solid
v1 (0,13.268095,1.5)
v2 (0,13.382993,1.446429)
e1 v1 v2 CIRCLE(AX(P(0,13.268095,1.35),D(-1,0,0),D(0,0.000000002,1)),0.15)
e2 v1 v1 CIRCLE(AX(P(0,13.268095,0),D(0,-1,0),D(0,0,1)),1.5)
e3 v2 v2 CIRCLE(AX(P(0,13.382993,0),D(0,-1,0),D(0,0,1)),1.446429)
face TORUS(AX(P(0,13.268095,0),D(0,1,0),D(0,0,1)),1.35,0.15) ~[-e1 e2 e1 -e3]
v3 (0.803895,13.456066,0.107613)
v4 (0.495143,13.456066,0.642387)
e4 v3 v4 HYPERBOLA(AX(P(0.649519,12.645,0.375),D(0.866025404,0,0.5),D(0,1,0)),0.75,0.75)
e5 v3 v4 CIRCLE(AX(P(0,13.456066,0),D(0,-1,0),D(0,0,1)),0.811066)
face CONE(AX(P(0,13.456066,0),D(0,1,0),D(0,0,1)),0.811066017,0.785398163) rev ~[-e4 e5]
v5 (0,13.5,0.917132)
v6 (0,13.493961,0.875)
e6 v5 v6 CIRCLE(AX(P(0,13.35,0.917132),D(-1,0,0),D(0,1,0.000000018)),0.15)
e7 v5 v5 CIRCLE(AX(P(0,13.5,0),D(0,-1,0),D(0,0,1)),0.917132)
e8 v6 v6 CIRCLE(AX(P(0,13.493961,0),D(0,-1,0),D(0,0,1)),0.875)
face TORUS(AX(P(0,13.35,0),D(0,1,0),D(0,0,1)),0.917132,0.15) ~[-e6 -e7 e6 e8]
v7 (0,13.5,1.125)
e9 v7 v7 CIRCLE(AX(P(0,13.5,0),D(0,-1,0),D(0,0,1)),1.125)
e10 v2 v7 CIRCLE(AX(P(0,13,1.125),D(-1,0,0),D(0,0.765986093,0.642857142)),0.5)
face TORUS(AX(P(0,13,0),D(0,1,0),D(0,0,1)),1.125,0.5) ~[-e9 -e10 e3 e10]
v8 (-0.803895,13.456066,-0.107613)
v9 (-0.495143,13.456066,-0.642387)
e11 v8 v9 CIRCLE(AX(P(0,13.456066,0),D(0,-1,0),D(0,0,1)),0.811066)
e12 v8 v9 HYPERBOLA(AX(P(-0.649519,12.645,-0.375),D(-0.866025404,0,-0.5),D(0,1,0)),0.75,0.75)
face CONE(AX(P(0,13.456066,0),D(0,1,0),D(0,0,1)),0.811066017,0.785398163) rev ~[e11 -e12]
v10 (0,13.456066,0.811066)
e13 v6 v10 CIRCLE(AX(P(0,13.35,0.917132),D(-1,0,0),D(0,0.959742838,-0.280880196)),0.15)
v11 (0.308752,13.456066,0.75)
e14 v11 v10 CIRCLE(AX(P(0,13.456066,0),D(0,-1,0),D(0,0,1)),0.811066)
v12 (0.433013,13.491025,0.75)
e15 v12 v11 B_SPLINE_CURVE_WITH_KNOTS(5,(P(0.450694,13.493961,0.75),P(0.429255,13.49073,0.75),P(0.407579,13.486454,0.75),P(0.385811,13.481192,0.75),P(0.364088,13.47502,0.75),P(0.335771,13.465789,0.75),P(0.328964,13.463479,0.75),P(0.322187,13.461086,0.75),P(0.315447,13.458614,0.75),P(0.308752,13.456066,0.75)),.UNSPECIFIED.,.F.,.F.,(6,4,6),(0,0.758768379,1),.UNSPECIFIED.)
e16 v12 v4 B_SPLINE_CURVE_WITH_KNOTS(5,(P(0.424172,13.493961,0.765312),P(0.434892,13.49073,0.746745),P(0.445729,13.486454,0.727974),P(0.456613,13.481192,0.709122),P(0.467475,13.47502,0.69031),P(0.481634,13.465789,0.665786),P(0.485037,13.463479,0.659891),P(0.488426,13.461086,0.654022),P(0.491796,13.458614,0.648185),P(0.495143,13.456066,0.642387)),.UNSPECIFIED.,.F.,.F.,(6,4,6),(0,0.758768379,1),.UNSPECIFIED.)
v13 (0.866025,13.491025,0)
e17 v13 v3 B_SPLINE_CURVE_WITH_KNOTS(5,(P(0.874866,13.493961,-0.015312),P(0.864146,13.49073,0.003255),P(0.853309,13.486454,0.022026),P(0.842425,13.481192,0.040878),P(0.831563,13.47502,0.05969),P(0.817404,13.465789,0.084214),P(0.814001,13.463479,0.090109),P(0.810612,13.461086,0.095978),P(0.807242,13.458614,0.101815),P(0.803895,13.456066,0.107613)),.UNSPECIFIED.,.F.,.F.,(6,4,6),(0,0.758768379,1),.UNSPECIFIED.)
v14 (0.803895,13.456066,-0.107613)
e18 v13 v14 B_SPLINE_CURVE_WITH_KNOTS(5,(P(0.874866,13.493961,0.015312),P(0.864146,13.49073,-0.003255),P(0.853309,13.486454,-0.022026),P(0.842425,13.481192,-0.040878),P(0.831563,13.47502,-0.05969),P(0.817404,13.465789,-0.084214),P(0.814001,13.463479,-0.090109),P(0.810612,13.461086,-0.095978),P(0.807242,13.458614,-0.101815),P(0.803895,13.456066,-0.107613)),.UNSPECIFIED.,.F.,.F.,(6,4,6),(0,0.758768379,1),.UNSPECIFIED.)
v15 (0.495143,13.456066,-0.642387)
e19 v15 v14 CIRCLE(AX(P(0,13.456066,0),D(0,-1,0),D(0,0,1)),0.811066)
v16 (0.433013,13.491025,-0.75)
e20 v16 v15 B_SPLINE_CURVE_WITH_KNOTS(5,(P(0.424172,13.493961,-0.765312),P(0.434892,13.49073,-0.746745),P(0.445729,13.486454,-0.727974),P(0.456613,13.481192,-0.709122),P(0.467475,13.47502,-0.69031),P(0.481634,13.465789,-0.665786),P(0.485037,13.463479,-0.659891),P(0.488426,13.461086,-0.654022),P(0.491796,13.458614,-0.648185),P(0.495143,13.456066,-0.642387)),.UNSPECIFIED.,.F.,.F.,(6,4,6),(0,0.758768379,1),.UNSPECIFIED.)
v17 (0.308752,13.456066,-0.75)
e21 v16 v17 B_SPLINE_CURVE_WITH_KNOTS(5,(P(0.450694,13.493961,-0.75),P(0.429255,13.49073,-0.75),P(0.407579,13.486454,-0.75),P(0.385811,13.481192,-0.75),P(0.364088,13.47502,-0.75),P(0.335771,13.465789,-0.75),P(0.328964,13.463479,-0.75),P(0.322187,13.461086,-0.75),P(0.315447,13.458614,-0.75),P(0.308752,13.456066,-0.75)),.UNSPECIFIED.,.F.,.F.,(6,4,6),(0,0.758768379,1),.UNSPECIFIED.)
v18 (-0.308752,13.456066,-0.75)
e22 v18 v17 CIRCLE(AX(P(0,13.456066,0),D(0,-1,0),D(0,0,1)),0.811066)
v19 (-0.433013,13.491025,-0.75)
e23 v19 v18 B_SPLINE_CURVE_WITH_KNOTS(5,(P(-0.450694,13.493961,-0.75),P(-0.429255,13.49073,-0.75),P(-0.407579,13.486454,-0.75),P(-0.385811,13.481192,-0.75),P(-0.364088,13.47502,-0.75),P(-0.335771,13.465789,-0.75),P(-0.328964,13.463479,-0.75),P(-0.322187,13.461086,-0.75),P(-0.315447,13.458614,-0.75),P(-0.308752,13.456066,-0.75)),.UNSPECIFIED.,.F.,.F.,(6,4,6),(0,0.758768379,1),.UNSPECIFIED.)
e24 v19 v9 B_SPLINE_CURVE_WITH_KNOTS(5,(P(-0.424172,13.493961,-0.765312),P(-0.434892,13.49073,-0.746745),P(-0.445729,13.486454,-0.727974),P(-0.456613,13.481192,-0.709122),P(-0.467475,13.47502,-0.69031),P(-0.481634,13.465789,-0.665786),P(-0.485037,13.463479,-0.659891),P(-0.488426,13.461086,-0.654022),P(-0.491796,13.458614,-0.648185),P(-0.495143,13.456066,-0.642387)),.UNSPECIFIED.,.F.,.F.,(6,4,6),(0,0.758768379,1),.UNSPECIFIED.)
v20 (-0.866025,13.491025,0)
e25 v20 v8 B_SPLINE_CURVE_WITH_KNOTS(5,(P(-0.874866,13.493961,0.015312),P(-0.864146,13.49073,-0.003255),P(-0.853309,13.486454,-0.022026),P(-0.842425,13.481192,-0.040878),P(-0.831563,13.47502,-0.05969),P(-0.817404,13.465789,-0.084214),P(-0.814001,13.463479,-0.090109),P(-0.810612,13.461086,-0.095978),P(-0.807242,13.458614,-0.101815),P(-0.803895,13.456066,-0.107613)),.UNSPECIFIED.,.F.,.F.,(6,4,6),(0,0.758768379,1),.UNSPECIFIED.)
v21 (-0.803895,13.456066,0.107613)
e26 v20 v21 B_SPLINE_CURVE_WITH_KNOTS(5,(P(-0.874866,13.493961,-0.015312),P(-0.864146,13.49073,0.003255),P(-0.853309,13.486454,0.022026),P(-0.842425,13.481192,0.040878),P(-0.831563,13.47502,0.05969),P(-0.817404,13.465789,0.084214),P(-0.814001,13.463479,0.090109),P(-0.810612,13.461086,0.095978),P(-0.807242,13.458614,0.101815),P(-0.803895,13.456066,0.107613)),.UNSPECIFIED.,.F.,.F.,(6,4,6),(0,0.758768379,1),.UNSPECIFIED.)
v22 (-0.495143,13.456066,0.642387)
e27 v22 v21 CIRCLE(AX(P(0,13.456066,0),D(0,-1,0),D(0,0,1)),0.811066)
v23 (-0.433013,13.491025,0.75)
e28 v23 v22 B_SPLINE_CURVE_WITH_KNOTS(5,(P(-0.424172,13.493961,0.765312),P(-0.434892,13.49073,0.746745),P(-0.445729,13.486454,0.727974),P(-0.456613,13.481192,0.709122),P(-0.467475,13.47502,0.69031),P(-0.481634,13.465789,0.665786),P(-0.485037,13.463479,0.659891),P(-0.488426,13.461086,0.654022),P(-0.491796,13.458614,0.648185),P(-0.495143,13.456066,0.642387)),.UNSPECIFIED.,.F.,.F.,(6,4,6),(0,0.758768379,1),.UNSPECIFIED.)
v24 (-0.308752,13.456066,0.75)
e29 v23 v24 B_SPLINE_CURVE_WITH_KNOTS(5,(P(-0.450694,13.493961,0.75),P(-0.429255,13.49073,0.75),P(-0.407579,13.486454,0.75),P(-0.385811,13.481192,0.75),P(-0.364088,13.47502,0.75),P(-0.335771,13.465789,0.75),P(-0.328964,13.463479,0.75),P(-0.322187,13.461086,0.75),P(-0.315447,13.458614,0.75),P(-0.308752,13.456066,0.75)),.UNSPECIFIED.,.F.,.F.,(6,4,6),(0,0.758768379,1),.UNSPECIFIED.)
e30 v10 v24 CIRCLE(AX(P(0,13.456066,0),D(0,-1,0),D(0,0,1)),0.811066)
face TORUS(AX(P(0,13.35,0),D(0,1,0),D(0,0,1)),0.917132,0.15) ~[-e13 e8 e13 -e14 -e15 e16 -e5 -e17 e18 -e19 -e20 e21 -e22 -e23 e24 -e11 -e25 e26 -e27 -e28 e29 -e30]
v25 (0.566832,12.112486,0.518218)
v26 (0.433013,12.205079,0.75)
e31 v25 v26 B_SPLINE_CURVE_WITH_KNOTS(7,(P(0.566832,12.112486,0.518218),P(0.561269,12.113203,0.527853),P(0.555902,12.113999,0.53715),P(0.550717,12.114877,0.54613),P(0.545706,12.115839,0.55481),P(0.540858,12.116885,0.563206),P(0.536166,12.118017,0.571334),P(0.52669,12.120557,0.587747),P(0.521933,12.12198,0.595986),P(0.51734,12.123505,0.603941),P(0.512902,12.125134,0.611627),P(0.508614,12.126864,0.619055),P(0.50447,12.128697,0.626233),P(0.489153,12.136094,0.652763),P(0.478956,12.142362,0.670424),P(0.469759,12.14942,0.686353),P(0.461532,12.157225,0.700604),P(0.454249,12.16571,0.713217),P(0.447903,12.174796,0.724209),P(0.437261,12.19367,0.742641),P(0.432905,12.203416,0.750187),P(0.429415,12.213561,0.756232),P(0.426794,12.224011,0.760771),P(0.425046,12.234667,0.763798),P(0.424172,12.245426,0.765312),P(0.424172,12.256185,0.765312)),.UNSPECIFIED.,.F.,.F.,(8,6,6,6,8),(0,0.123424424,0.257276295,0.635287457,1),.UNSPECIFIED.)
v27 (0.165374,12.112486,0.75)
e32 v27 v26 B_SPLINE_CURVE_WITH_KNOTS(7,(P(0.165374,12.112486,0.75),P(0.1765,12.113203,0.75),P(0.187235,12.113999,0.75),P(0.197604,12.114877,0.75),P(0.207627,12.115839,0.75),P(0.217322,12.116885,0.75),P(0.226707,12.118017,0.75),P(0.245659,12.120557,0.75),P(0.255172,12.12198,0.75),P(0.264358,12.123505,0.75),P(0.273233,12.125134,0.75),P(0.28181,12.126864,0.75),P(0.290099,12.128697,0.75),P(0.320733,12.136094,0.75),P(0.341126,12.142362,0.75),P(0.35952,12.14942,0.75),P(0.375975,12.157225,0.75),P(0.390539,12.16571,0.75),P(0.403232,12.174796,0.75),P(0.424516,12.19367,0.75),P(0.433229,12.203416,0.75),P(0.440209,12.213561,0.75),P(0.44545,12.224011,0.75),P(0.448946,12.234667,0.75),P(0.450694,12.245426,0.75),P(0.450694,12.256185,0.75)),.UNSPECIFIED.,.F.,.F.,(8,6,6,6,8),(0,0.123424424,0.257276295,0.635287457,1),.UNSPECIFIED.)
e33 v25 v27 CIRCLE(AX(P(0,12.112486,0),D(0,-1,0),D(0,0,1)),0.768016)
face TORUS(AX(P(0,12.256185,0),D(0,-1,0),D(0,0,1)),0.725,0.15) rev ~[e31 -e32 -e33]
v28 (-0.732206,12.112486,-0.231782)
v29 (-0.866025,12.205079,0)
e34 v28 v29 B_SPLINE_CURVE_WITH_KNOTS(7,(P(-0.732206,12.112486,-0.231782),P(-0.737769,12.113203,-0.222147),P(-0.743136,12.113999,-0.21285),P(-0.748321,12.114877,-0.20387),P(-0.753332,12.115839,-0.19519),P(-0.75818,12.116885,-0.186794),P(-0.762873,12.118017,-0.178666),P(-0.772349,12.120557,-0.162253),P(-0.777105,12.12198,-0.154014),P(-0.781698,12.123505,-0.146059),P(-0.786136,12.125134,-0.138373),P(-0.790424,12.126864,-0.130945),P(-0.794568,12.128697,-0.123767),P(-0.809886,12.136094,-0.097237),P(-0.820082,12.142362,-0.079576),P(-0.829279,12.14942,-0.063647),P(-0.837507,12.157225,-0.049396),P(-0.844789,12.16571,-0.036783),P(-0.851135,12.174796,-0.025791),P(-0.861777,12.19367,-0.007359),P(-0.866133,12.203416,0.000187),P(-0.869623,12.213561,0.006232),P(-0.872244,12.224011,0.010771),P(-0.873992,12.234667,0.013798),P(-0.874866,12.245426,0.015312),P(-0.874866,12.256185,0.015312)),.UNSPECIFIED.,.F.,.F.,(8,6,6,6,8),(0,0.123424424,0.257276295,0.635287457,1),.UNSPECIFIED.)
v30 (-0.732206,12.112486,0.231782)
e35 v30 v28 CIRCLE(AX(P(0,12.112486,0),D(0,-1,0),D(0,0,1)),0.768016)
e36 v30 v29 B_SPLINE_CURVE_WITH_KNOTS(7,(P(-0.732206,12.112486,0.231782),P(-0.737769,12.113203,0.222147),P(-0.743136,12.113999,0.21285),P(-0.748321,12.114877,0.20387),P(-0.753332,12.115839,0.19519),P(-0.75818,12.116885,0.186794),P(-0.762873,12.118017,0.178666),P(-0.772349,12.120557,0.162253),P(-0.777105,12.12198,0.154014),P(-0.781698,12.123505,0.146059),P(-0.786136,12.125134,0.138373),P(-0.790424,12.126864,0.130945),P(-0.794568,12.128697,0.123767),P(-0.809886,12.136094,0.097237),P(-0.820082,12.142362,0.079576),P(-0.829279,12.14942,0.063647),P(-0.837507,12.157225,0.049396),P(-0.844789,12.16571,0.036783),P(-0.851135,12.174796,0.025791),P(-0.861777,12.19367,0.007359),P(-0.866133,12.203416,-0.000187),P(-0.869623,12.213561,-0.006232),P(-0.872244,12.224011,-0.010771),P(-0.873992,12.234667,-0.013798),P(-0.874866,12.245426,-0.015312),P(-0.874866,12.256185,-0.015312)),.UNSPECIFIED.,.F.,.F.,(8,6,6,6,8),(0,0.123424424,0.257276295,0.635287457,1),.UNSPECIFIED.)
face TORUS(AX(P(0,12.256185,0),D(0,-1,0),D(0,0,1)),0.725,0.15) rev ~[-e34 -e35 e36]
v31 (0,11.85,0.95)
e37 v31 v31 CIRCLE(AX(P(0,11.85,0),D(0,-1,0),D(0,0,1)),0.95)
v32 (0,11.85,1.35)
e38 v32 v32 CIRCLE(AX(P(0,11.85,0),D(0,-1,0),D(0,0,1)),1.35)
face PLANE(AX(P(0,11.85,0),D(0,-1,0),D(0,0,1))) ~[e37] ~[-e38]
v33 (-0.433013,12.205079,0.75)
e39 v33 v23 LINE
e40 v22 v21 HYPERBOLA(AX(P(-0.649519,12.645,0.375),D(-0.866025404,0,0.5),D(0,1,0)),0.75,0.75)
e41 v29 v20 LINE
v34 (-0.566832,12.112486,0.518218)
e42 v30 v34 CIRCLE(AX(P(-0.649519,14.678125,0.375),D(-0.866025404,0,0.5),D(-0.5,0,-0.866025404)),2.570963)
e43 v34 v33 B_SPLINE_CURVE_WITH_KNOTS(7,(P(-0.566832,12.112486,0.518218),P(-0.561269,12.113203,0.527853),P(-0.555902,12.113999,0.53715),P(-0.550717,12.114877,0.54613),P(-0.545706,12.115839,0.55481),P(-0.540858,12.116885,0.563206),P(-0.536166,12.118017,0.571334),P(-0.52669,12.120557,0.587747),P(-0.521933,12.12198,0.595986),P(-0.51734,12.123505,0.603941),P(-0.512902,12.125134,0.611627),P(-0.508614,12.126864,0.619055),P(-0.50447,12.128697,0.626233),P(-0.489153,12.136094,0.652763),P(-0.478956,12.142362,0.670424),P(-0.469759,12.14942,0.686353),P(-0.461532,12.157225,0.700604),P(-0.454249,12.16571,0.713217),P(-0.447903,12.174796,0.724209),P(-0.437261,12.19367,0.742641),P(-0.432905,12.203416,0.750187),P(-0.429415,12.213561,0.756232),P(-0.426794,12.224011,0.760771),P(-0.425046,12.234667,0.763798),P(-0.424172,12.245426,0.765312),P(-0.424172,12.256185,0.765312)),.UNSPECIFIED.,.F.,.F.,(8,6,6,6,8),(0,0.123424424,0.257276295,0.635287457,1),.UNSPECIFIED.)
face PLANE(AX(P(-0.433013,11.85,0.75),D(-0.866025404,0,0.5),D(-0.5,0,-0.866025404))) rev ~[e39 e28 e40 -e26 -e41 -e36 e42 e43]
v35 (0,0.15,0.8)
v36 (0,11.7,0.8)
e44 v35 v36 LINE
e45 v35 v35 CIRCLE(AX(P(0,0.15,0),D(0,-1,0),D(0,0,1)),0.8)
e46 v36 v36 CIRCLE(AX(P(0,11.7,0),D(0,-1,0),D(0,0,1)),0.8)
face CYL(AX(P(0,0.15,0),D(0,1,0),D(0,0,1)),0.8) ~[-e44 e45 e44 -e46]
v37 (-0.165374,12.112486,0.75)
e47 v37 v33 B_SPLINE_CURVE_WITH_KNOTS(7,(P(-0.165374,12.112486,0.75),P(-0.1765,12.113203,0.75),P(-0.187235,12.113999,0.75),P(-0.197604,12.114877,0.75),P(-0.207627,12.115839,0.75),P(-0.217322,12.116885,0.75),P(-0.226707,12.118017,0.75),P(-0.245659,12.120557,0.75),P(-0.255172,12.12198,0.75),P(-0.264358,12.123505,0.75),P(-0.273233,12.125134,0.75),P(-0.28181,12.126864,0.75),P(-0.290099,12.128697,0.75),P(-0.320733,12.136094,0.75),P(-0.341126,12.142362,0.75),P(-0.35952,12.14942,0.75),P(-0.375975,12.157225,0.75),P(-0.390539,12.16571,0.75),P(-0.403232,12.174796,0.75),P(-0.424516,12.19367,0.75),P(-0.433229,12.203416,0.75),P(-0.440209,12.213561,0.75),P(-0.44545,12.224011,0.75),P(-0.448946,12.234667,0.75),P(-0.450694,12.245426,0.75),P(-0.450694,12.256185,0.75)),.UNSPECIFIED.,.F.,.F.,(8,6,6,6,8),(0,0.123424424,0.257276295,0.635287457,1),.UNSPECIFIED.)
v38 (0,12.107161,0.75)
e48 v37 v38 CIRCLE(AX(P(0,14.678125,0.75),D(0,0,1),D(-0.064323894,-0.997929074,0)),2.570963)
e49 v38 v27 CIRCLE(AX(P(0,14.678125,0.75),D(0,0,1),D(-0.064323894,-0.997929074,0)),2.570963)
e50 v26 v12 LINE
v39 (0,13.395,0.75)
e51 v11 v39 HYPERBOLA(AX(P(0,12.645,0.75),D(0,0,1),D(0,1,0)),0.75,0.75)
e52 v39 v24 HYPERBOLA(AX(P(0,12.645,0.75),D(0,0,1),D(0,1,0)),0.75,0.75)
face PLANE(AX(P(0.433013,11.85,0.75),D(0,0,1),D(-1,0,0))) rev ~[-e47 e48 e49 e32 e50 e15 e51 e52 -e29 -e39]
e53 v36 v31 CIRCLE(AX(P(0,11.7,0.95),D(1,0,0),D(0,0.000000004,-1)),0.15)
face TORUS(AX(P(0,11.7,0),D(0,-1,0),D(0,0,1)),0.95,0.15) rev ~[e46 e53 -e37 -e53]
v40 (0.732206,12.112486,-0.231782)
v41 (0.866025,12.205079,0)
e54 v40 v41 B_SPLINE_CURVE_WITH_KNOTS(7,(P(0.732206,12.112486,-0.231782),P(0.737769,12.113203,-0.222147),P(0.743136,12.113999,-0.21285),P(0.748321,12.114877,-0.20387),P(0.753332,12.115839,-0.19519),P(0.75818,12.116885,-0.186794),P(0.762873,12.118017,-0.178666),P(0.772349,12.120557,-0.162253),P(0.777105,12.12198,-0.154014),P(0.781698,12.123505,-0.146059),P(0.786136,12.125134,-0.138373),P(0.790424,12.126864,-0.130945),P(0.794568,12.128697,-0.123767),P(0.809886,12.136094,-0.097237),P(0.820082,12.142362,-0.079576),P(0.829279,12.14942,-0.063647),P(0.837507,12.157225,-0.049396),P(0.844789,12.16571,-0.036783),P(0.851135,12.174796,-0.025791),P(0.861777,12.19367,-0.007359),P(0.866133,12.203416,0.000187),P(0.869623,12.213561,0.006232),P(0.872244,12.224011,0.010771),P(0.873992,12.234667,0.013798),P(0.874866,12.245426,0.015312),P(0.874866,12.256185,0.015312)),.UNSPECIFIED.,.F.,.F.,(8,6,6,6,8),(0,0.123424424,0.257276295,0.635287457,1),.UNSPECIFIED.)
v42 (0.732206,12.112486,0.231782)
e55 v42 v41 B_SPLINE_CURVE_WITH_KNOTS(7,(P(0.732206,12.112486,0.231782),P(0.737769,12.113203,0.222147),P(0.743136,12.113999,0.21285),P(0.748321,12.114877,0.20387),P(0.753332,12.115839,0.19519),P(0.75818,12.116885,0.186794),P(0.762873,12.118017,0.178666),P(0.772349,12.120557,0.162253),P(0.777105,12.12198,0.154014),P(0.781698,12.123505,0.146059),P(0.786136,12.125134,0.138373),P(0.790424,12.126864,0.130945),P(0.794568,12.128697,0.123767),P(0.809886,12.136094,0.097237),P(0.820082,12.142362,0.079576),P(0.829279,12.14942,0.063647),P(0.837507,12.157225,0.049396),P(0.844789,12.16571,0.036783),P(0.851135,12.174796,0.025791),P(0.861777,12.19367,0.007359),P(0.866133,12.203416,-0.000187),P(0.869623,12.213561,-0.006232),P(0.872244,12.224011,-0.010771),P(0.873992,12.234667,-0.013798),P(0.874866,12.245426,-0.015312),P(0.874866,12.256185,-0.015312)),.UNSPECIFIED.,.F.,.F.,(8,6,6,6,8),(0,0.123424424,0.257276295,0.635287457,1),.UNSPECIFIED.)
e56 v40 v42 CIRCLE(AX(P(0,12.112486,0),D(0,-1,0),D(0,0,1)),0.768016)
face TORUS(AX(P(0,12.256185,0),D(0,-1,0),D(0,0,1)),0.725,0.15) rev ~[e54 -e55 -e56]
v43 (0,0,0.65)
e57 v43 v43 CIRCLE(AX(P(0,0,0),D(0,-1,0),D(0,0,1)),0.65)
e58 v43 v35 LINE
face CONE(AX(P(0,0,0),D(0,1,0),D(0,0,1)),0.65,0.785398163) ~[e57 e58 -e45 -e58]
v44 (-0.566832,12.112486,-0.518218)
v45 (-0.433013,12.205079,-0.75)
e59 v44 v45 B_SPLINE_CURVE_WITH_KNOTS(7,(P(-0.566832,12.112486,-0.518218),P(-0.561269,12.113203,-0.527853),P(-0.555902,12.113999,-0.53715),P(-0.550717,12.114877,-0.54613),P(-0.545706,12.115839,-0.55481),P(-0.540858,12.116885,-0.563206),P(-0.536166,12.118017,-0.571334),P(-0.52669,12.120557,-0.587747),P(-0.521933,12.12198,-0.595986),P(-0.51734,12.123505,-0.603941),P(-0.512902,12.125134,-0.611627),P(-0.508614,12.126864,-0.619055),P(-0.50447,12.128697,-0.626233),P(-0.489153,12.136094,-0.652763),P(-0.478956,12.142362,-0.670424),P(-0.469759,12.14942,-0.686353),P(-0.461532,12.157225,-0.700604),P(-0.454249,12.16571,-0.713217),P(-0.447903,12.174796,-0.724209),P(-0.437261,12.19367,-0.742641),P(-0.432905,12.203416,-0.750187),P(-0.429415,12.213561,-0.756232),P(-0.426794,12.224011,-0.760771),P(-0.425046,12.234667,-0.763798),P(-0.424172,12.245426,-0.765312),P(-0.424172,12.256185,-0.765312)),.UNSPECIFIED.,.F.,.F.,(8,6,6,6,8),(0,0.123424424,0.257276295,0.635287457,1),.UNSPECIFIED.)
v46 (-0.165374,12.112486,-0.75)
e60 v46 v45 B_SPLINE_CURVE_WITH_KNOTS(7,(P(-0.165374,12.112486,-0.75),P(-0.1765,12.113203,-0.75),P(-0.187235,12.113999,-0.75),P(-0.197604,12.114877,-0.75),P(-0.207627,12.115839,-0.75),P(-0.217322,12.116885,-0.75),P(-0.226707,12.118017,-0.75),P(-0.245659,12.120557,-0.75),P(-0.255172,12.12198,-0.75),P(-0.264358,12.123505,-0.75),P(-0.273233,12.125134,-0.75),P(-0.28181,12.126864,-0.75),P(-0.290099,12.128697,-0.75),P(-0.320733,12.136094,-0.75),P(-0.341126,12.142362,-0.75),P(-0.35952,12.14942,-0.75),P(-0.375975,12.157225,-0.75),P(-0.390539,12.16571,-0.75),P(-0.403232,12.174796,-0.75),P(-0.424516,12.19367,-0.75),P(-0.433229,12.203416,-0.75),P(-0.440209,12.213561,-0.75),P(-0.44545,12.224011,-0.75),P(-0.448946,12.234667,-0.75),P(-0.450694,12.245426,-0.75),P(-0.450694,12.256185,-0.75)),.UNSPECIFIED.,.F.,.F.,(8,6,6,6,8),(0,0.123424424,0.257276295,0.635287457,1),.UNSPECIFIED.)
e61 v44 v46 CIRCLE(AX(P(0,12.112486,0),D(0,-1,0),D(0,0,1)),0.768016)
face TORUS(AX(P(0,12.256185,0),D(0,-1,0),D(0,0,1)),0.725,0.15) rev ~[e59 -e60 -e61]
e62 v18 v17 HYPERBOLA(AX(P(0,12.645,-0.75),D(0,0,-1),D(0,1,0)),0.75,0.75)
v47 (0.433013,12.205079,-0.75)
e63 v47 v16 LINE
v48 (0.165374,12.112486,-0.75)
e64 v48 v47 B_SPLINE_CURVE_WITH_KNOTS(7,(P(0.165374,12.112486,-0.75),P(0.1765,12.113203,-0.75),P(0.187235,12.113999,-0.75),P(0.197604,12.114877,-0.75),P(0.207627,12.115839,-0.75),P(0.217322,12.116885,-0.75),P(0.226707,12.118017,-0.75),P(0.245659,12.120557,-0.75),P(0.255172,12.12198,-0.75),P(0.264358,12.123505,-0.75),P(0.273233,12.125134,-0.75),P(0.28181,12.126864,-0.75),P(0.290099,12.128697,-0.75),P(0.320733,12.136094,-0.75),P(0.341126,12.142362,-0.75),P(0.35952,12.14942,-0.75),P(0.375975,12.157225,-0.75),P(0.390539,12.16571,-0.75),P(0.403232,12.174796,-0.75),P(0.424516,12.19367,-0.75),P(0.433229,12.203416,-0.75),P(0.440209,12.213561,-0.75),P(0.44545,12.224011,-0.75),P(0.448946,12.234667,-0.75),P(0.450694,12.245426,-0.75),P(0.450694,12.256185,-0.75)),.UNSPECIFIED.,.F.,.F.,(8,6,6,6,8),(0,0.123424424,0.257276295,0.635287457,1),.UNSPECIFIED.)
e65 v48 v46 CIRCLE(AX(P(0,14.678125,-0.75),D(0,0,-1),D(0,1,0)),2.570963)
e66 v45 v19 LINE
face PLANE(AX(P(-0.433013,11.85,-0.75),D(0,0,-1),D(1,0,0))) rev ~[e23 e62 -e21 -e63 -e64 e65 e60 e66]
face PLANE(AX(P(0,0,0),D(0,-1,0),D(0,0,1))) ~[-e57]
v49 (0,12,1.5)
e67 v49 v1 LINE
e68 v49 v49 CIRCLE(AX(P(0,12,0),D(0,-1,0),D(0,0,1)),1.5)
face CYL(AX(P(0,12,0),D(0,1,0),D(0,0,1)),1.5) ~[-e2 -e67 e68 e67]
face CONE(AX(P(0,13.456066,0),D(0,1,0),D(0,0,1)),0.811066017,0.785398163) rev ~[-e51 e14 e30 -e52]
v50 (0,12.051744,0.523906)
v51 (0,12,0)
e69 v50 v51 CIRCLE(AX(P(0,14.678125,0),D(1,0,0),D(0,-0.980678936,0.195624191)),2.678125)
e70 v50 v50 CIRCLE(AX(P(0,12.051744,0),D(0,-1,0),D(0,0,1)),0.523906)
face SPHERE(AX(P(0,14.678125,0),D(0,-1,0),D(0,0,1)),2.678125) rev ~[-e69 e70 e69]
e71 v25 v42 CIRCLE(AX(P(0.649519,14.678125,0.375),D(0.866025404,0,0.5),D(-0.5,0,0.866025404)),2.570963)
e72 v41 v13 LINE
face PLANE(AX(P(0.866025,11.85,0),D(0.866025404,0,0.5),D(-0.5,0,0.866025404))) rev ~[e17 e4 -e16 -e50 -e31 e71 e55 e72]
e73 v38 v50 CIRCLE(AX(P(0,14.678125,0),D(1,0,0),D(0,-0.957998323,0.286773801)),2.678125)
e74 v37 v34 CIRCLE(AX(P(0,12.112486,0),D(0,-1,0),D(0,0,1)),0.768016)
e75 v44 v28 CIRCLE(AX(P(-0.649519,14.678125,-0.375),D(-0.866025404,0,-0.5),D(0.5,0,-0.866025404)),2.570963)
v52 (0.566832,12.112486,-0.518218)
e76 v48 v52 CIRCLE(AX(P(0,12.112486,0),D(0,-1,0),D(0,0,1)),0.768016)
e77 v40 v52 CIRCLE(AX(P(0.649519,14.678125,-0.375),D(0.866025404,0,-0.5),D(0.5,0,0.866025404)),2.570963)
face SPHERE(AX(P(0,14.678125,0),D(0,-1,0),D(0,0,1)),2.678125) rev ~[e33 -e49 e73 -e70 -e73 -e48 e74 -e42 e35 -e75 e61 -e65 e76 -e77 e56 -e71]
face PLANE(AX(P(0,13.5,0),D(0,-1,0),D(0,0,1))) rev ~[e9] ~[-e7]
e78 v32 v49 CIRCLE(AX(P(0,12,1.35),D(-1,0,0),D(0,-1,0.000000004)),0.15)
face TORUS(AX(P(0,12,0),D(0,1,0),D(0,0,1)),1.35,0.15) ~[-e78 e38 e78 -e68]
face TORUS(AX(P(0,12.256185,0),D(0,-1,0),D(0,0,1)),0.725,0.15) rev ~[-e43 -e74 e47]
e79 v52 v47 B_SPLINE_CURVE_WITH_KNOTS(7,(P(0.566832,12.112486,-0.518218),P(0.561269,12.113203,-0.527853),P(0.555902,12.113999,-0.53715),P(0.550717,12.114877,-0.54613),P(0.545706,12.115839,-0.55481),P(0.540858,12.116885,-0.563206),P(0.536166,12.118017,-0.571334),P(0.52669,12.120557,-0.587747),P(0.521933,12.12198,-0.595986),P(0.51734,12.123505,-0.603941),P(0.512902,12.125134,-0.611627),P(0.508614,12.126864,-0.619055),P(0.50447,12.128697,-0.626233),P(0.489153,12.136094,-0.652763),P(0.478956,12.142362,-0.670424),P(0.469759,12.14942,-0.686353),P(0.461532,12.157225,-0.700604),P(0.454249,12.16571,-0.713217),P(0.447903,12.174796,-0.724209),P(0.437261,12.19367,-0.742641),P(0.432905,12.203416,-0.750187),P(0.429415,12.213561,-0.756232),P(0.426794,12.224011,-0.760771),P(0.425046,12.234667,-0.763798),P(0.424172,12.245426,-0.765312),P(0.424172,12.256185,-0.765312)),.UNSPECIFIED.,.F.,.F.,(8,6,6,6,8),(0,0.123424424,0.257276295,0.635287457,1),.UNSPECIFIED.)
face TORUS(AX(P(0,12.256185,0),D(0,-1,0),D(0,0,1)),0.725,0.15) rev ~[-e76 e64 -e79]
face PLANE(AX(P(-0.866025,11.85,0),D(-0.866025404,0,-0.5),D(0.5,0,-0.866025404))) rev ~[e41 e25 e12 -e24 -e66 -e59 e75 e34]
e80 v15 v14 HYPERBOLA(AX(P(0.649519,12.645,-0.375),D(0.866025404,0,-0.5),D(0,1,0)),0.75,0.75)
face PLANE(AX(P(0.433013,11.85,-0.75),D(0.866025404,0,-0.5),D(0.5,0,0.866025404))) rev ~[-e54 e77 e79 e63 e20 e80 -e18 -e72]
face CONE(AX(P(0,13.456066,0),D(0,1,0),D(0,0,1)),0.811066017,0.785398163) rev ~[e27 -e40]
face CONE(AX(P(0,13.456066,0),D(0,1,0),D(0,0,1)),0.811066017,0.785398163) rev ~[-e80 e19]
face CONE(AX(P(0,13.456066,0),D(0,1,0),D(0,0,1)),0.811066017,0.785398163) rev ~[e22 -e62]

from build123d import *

# Parameters (mm, degrees)
CUT_EXTRUDE2_DEPTH = 13.038376161


with BuildPart() as part:
    # Sketch1 → Revolve1 (revolve)
    with BuildSketch(Plane(origin=(0, 0, 0), x_dir=(0, 0, -1), z_dir=(1, 0, 0))):
        with BuildLine():
            ThreePointArc((0.8, 11.7), (0.843933983, 11.806066017), (0.95, 11.85))
            Line((0.95, 11.85), (1.35, 11.85))
            ThreePointArc((1.35, 11.85), (1.456066017, 11.893933983), (1.5, 12))
            Line((1.5, 12), (1.5, 13.268095132))
            ThreePointArc((1.5, 13.268095132), (1.485949045, 13.331481701), (1.446428571, 13.382993046))
            ThreePointArc((1.446428571, 13.382993046), (1.296031396, 13.469838548), (1.125, 13.5))
            Line((1.125, 13.5), (0.917132034, 13.5))
            ThreePointArc((0.917132034, 13.5), (0.895850747, 13.498482682), (0.875, 13.493961424))
            Line((0.875, 13.493961424), (0.875, 12.256185485))
            ThreePointArc((0.875, 12.256185485), (0.845317103, 12.166609847), (0.768016069, 12.112485736))
            ThreePointArc((0.768016069, 12.112485736), (0.646674627, 12.079247272), (0.523906049, 12.051744226))
            ThreePointArc((0.523906049, 12.051744226), (0.263227569, 12.012967451), (0, 12))
            Line((0, 12), (0, 0))
            Line((0, 0), (0.65, 0))
            Line((0.65, 0), (0.8, 0.15))
            Line((0.8, 0.15), (0.8, 11.7))
        make_face()
    revolve(axis=Axis((0, 13.5, 0), (0, -1, 0)))


with BuildPart() as body_2:
    # Sketch1<3> → Revolve2 (revolve)
    with BuildSketch(Plane(origin=(0, 0, 0), x_dir=(0, 0, -1), z_dir=(1, 0, 0))):
        with BuildLine():
            ThreePointArc((0.725, 12.29691396), (0.668295774, 12.138368245), (0.523906049, 12.051744226))
            ThreePointArc((0.523906049, 12.051744226), (0.646674627, 12.079247272), (0.768016069, 12.112485736))
            ThreePointArc((0.768016069, 12.112485736), (0.845317103, 12.166609847), (0.875, 12.256185485))
            Line((0.875, 12.256185485), (0.875, 13.493961424))
            ThreePointArc((0.875, 13.493961424), (0.840648826, 13.479036115), (0.811066017, 13.456066017))
            Line((0.811066017, 13.456066017), (0.725, 13.37))
            Line((0.725, 13.37), (0.725, 12.29691396))
        make_face()
    revolve(axis=Axis((0, 13.5, 0), (0, -1, 0)))

    # Sketch2 → Cut-Extrude2 (cut, through all)
    with BuildSketch(Plane.XZ.offset(-11.85)):
        Polygon((-0.433012702, 0.75), (-0.866025404, 0), (-0.433012702, -0.75), (0.433012702, -0.75), (0.866025404, 0), (0.433012702, 0.75), align=None)
    extrude(amount=-CUT_EXTRUDE2_DEPTH, mode=Mode.SUBTRACT)


with BuildPart() as part_1:
    add(part.part)

    # Combine1: union body 2
    add(body_2.part)


solid = part_1.part
